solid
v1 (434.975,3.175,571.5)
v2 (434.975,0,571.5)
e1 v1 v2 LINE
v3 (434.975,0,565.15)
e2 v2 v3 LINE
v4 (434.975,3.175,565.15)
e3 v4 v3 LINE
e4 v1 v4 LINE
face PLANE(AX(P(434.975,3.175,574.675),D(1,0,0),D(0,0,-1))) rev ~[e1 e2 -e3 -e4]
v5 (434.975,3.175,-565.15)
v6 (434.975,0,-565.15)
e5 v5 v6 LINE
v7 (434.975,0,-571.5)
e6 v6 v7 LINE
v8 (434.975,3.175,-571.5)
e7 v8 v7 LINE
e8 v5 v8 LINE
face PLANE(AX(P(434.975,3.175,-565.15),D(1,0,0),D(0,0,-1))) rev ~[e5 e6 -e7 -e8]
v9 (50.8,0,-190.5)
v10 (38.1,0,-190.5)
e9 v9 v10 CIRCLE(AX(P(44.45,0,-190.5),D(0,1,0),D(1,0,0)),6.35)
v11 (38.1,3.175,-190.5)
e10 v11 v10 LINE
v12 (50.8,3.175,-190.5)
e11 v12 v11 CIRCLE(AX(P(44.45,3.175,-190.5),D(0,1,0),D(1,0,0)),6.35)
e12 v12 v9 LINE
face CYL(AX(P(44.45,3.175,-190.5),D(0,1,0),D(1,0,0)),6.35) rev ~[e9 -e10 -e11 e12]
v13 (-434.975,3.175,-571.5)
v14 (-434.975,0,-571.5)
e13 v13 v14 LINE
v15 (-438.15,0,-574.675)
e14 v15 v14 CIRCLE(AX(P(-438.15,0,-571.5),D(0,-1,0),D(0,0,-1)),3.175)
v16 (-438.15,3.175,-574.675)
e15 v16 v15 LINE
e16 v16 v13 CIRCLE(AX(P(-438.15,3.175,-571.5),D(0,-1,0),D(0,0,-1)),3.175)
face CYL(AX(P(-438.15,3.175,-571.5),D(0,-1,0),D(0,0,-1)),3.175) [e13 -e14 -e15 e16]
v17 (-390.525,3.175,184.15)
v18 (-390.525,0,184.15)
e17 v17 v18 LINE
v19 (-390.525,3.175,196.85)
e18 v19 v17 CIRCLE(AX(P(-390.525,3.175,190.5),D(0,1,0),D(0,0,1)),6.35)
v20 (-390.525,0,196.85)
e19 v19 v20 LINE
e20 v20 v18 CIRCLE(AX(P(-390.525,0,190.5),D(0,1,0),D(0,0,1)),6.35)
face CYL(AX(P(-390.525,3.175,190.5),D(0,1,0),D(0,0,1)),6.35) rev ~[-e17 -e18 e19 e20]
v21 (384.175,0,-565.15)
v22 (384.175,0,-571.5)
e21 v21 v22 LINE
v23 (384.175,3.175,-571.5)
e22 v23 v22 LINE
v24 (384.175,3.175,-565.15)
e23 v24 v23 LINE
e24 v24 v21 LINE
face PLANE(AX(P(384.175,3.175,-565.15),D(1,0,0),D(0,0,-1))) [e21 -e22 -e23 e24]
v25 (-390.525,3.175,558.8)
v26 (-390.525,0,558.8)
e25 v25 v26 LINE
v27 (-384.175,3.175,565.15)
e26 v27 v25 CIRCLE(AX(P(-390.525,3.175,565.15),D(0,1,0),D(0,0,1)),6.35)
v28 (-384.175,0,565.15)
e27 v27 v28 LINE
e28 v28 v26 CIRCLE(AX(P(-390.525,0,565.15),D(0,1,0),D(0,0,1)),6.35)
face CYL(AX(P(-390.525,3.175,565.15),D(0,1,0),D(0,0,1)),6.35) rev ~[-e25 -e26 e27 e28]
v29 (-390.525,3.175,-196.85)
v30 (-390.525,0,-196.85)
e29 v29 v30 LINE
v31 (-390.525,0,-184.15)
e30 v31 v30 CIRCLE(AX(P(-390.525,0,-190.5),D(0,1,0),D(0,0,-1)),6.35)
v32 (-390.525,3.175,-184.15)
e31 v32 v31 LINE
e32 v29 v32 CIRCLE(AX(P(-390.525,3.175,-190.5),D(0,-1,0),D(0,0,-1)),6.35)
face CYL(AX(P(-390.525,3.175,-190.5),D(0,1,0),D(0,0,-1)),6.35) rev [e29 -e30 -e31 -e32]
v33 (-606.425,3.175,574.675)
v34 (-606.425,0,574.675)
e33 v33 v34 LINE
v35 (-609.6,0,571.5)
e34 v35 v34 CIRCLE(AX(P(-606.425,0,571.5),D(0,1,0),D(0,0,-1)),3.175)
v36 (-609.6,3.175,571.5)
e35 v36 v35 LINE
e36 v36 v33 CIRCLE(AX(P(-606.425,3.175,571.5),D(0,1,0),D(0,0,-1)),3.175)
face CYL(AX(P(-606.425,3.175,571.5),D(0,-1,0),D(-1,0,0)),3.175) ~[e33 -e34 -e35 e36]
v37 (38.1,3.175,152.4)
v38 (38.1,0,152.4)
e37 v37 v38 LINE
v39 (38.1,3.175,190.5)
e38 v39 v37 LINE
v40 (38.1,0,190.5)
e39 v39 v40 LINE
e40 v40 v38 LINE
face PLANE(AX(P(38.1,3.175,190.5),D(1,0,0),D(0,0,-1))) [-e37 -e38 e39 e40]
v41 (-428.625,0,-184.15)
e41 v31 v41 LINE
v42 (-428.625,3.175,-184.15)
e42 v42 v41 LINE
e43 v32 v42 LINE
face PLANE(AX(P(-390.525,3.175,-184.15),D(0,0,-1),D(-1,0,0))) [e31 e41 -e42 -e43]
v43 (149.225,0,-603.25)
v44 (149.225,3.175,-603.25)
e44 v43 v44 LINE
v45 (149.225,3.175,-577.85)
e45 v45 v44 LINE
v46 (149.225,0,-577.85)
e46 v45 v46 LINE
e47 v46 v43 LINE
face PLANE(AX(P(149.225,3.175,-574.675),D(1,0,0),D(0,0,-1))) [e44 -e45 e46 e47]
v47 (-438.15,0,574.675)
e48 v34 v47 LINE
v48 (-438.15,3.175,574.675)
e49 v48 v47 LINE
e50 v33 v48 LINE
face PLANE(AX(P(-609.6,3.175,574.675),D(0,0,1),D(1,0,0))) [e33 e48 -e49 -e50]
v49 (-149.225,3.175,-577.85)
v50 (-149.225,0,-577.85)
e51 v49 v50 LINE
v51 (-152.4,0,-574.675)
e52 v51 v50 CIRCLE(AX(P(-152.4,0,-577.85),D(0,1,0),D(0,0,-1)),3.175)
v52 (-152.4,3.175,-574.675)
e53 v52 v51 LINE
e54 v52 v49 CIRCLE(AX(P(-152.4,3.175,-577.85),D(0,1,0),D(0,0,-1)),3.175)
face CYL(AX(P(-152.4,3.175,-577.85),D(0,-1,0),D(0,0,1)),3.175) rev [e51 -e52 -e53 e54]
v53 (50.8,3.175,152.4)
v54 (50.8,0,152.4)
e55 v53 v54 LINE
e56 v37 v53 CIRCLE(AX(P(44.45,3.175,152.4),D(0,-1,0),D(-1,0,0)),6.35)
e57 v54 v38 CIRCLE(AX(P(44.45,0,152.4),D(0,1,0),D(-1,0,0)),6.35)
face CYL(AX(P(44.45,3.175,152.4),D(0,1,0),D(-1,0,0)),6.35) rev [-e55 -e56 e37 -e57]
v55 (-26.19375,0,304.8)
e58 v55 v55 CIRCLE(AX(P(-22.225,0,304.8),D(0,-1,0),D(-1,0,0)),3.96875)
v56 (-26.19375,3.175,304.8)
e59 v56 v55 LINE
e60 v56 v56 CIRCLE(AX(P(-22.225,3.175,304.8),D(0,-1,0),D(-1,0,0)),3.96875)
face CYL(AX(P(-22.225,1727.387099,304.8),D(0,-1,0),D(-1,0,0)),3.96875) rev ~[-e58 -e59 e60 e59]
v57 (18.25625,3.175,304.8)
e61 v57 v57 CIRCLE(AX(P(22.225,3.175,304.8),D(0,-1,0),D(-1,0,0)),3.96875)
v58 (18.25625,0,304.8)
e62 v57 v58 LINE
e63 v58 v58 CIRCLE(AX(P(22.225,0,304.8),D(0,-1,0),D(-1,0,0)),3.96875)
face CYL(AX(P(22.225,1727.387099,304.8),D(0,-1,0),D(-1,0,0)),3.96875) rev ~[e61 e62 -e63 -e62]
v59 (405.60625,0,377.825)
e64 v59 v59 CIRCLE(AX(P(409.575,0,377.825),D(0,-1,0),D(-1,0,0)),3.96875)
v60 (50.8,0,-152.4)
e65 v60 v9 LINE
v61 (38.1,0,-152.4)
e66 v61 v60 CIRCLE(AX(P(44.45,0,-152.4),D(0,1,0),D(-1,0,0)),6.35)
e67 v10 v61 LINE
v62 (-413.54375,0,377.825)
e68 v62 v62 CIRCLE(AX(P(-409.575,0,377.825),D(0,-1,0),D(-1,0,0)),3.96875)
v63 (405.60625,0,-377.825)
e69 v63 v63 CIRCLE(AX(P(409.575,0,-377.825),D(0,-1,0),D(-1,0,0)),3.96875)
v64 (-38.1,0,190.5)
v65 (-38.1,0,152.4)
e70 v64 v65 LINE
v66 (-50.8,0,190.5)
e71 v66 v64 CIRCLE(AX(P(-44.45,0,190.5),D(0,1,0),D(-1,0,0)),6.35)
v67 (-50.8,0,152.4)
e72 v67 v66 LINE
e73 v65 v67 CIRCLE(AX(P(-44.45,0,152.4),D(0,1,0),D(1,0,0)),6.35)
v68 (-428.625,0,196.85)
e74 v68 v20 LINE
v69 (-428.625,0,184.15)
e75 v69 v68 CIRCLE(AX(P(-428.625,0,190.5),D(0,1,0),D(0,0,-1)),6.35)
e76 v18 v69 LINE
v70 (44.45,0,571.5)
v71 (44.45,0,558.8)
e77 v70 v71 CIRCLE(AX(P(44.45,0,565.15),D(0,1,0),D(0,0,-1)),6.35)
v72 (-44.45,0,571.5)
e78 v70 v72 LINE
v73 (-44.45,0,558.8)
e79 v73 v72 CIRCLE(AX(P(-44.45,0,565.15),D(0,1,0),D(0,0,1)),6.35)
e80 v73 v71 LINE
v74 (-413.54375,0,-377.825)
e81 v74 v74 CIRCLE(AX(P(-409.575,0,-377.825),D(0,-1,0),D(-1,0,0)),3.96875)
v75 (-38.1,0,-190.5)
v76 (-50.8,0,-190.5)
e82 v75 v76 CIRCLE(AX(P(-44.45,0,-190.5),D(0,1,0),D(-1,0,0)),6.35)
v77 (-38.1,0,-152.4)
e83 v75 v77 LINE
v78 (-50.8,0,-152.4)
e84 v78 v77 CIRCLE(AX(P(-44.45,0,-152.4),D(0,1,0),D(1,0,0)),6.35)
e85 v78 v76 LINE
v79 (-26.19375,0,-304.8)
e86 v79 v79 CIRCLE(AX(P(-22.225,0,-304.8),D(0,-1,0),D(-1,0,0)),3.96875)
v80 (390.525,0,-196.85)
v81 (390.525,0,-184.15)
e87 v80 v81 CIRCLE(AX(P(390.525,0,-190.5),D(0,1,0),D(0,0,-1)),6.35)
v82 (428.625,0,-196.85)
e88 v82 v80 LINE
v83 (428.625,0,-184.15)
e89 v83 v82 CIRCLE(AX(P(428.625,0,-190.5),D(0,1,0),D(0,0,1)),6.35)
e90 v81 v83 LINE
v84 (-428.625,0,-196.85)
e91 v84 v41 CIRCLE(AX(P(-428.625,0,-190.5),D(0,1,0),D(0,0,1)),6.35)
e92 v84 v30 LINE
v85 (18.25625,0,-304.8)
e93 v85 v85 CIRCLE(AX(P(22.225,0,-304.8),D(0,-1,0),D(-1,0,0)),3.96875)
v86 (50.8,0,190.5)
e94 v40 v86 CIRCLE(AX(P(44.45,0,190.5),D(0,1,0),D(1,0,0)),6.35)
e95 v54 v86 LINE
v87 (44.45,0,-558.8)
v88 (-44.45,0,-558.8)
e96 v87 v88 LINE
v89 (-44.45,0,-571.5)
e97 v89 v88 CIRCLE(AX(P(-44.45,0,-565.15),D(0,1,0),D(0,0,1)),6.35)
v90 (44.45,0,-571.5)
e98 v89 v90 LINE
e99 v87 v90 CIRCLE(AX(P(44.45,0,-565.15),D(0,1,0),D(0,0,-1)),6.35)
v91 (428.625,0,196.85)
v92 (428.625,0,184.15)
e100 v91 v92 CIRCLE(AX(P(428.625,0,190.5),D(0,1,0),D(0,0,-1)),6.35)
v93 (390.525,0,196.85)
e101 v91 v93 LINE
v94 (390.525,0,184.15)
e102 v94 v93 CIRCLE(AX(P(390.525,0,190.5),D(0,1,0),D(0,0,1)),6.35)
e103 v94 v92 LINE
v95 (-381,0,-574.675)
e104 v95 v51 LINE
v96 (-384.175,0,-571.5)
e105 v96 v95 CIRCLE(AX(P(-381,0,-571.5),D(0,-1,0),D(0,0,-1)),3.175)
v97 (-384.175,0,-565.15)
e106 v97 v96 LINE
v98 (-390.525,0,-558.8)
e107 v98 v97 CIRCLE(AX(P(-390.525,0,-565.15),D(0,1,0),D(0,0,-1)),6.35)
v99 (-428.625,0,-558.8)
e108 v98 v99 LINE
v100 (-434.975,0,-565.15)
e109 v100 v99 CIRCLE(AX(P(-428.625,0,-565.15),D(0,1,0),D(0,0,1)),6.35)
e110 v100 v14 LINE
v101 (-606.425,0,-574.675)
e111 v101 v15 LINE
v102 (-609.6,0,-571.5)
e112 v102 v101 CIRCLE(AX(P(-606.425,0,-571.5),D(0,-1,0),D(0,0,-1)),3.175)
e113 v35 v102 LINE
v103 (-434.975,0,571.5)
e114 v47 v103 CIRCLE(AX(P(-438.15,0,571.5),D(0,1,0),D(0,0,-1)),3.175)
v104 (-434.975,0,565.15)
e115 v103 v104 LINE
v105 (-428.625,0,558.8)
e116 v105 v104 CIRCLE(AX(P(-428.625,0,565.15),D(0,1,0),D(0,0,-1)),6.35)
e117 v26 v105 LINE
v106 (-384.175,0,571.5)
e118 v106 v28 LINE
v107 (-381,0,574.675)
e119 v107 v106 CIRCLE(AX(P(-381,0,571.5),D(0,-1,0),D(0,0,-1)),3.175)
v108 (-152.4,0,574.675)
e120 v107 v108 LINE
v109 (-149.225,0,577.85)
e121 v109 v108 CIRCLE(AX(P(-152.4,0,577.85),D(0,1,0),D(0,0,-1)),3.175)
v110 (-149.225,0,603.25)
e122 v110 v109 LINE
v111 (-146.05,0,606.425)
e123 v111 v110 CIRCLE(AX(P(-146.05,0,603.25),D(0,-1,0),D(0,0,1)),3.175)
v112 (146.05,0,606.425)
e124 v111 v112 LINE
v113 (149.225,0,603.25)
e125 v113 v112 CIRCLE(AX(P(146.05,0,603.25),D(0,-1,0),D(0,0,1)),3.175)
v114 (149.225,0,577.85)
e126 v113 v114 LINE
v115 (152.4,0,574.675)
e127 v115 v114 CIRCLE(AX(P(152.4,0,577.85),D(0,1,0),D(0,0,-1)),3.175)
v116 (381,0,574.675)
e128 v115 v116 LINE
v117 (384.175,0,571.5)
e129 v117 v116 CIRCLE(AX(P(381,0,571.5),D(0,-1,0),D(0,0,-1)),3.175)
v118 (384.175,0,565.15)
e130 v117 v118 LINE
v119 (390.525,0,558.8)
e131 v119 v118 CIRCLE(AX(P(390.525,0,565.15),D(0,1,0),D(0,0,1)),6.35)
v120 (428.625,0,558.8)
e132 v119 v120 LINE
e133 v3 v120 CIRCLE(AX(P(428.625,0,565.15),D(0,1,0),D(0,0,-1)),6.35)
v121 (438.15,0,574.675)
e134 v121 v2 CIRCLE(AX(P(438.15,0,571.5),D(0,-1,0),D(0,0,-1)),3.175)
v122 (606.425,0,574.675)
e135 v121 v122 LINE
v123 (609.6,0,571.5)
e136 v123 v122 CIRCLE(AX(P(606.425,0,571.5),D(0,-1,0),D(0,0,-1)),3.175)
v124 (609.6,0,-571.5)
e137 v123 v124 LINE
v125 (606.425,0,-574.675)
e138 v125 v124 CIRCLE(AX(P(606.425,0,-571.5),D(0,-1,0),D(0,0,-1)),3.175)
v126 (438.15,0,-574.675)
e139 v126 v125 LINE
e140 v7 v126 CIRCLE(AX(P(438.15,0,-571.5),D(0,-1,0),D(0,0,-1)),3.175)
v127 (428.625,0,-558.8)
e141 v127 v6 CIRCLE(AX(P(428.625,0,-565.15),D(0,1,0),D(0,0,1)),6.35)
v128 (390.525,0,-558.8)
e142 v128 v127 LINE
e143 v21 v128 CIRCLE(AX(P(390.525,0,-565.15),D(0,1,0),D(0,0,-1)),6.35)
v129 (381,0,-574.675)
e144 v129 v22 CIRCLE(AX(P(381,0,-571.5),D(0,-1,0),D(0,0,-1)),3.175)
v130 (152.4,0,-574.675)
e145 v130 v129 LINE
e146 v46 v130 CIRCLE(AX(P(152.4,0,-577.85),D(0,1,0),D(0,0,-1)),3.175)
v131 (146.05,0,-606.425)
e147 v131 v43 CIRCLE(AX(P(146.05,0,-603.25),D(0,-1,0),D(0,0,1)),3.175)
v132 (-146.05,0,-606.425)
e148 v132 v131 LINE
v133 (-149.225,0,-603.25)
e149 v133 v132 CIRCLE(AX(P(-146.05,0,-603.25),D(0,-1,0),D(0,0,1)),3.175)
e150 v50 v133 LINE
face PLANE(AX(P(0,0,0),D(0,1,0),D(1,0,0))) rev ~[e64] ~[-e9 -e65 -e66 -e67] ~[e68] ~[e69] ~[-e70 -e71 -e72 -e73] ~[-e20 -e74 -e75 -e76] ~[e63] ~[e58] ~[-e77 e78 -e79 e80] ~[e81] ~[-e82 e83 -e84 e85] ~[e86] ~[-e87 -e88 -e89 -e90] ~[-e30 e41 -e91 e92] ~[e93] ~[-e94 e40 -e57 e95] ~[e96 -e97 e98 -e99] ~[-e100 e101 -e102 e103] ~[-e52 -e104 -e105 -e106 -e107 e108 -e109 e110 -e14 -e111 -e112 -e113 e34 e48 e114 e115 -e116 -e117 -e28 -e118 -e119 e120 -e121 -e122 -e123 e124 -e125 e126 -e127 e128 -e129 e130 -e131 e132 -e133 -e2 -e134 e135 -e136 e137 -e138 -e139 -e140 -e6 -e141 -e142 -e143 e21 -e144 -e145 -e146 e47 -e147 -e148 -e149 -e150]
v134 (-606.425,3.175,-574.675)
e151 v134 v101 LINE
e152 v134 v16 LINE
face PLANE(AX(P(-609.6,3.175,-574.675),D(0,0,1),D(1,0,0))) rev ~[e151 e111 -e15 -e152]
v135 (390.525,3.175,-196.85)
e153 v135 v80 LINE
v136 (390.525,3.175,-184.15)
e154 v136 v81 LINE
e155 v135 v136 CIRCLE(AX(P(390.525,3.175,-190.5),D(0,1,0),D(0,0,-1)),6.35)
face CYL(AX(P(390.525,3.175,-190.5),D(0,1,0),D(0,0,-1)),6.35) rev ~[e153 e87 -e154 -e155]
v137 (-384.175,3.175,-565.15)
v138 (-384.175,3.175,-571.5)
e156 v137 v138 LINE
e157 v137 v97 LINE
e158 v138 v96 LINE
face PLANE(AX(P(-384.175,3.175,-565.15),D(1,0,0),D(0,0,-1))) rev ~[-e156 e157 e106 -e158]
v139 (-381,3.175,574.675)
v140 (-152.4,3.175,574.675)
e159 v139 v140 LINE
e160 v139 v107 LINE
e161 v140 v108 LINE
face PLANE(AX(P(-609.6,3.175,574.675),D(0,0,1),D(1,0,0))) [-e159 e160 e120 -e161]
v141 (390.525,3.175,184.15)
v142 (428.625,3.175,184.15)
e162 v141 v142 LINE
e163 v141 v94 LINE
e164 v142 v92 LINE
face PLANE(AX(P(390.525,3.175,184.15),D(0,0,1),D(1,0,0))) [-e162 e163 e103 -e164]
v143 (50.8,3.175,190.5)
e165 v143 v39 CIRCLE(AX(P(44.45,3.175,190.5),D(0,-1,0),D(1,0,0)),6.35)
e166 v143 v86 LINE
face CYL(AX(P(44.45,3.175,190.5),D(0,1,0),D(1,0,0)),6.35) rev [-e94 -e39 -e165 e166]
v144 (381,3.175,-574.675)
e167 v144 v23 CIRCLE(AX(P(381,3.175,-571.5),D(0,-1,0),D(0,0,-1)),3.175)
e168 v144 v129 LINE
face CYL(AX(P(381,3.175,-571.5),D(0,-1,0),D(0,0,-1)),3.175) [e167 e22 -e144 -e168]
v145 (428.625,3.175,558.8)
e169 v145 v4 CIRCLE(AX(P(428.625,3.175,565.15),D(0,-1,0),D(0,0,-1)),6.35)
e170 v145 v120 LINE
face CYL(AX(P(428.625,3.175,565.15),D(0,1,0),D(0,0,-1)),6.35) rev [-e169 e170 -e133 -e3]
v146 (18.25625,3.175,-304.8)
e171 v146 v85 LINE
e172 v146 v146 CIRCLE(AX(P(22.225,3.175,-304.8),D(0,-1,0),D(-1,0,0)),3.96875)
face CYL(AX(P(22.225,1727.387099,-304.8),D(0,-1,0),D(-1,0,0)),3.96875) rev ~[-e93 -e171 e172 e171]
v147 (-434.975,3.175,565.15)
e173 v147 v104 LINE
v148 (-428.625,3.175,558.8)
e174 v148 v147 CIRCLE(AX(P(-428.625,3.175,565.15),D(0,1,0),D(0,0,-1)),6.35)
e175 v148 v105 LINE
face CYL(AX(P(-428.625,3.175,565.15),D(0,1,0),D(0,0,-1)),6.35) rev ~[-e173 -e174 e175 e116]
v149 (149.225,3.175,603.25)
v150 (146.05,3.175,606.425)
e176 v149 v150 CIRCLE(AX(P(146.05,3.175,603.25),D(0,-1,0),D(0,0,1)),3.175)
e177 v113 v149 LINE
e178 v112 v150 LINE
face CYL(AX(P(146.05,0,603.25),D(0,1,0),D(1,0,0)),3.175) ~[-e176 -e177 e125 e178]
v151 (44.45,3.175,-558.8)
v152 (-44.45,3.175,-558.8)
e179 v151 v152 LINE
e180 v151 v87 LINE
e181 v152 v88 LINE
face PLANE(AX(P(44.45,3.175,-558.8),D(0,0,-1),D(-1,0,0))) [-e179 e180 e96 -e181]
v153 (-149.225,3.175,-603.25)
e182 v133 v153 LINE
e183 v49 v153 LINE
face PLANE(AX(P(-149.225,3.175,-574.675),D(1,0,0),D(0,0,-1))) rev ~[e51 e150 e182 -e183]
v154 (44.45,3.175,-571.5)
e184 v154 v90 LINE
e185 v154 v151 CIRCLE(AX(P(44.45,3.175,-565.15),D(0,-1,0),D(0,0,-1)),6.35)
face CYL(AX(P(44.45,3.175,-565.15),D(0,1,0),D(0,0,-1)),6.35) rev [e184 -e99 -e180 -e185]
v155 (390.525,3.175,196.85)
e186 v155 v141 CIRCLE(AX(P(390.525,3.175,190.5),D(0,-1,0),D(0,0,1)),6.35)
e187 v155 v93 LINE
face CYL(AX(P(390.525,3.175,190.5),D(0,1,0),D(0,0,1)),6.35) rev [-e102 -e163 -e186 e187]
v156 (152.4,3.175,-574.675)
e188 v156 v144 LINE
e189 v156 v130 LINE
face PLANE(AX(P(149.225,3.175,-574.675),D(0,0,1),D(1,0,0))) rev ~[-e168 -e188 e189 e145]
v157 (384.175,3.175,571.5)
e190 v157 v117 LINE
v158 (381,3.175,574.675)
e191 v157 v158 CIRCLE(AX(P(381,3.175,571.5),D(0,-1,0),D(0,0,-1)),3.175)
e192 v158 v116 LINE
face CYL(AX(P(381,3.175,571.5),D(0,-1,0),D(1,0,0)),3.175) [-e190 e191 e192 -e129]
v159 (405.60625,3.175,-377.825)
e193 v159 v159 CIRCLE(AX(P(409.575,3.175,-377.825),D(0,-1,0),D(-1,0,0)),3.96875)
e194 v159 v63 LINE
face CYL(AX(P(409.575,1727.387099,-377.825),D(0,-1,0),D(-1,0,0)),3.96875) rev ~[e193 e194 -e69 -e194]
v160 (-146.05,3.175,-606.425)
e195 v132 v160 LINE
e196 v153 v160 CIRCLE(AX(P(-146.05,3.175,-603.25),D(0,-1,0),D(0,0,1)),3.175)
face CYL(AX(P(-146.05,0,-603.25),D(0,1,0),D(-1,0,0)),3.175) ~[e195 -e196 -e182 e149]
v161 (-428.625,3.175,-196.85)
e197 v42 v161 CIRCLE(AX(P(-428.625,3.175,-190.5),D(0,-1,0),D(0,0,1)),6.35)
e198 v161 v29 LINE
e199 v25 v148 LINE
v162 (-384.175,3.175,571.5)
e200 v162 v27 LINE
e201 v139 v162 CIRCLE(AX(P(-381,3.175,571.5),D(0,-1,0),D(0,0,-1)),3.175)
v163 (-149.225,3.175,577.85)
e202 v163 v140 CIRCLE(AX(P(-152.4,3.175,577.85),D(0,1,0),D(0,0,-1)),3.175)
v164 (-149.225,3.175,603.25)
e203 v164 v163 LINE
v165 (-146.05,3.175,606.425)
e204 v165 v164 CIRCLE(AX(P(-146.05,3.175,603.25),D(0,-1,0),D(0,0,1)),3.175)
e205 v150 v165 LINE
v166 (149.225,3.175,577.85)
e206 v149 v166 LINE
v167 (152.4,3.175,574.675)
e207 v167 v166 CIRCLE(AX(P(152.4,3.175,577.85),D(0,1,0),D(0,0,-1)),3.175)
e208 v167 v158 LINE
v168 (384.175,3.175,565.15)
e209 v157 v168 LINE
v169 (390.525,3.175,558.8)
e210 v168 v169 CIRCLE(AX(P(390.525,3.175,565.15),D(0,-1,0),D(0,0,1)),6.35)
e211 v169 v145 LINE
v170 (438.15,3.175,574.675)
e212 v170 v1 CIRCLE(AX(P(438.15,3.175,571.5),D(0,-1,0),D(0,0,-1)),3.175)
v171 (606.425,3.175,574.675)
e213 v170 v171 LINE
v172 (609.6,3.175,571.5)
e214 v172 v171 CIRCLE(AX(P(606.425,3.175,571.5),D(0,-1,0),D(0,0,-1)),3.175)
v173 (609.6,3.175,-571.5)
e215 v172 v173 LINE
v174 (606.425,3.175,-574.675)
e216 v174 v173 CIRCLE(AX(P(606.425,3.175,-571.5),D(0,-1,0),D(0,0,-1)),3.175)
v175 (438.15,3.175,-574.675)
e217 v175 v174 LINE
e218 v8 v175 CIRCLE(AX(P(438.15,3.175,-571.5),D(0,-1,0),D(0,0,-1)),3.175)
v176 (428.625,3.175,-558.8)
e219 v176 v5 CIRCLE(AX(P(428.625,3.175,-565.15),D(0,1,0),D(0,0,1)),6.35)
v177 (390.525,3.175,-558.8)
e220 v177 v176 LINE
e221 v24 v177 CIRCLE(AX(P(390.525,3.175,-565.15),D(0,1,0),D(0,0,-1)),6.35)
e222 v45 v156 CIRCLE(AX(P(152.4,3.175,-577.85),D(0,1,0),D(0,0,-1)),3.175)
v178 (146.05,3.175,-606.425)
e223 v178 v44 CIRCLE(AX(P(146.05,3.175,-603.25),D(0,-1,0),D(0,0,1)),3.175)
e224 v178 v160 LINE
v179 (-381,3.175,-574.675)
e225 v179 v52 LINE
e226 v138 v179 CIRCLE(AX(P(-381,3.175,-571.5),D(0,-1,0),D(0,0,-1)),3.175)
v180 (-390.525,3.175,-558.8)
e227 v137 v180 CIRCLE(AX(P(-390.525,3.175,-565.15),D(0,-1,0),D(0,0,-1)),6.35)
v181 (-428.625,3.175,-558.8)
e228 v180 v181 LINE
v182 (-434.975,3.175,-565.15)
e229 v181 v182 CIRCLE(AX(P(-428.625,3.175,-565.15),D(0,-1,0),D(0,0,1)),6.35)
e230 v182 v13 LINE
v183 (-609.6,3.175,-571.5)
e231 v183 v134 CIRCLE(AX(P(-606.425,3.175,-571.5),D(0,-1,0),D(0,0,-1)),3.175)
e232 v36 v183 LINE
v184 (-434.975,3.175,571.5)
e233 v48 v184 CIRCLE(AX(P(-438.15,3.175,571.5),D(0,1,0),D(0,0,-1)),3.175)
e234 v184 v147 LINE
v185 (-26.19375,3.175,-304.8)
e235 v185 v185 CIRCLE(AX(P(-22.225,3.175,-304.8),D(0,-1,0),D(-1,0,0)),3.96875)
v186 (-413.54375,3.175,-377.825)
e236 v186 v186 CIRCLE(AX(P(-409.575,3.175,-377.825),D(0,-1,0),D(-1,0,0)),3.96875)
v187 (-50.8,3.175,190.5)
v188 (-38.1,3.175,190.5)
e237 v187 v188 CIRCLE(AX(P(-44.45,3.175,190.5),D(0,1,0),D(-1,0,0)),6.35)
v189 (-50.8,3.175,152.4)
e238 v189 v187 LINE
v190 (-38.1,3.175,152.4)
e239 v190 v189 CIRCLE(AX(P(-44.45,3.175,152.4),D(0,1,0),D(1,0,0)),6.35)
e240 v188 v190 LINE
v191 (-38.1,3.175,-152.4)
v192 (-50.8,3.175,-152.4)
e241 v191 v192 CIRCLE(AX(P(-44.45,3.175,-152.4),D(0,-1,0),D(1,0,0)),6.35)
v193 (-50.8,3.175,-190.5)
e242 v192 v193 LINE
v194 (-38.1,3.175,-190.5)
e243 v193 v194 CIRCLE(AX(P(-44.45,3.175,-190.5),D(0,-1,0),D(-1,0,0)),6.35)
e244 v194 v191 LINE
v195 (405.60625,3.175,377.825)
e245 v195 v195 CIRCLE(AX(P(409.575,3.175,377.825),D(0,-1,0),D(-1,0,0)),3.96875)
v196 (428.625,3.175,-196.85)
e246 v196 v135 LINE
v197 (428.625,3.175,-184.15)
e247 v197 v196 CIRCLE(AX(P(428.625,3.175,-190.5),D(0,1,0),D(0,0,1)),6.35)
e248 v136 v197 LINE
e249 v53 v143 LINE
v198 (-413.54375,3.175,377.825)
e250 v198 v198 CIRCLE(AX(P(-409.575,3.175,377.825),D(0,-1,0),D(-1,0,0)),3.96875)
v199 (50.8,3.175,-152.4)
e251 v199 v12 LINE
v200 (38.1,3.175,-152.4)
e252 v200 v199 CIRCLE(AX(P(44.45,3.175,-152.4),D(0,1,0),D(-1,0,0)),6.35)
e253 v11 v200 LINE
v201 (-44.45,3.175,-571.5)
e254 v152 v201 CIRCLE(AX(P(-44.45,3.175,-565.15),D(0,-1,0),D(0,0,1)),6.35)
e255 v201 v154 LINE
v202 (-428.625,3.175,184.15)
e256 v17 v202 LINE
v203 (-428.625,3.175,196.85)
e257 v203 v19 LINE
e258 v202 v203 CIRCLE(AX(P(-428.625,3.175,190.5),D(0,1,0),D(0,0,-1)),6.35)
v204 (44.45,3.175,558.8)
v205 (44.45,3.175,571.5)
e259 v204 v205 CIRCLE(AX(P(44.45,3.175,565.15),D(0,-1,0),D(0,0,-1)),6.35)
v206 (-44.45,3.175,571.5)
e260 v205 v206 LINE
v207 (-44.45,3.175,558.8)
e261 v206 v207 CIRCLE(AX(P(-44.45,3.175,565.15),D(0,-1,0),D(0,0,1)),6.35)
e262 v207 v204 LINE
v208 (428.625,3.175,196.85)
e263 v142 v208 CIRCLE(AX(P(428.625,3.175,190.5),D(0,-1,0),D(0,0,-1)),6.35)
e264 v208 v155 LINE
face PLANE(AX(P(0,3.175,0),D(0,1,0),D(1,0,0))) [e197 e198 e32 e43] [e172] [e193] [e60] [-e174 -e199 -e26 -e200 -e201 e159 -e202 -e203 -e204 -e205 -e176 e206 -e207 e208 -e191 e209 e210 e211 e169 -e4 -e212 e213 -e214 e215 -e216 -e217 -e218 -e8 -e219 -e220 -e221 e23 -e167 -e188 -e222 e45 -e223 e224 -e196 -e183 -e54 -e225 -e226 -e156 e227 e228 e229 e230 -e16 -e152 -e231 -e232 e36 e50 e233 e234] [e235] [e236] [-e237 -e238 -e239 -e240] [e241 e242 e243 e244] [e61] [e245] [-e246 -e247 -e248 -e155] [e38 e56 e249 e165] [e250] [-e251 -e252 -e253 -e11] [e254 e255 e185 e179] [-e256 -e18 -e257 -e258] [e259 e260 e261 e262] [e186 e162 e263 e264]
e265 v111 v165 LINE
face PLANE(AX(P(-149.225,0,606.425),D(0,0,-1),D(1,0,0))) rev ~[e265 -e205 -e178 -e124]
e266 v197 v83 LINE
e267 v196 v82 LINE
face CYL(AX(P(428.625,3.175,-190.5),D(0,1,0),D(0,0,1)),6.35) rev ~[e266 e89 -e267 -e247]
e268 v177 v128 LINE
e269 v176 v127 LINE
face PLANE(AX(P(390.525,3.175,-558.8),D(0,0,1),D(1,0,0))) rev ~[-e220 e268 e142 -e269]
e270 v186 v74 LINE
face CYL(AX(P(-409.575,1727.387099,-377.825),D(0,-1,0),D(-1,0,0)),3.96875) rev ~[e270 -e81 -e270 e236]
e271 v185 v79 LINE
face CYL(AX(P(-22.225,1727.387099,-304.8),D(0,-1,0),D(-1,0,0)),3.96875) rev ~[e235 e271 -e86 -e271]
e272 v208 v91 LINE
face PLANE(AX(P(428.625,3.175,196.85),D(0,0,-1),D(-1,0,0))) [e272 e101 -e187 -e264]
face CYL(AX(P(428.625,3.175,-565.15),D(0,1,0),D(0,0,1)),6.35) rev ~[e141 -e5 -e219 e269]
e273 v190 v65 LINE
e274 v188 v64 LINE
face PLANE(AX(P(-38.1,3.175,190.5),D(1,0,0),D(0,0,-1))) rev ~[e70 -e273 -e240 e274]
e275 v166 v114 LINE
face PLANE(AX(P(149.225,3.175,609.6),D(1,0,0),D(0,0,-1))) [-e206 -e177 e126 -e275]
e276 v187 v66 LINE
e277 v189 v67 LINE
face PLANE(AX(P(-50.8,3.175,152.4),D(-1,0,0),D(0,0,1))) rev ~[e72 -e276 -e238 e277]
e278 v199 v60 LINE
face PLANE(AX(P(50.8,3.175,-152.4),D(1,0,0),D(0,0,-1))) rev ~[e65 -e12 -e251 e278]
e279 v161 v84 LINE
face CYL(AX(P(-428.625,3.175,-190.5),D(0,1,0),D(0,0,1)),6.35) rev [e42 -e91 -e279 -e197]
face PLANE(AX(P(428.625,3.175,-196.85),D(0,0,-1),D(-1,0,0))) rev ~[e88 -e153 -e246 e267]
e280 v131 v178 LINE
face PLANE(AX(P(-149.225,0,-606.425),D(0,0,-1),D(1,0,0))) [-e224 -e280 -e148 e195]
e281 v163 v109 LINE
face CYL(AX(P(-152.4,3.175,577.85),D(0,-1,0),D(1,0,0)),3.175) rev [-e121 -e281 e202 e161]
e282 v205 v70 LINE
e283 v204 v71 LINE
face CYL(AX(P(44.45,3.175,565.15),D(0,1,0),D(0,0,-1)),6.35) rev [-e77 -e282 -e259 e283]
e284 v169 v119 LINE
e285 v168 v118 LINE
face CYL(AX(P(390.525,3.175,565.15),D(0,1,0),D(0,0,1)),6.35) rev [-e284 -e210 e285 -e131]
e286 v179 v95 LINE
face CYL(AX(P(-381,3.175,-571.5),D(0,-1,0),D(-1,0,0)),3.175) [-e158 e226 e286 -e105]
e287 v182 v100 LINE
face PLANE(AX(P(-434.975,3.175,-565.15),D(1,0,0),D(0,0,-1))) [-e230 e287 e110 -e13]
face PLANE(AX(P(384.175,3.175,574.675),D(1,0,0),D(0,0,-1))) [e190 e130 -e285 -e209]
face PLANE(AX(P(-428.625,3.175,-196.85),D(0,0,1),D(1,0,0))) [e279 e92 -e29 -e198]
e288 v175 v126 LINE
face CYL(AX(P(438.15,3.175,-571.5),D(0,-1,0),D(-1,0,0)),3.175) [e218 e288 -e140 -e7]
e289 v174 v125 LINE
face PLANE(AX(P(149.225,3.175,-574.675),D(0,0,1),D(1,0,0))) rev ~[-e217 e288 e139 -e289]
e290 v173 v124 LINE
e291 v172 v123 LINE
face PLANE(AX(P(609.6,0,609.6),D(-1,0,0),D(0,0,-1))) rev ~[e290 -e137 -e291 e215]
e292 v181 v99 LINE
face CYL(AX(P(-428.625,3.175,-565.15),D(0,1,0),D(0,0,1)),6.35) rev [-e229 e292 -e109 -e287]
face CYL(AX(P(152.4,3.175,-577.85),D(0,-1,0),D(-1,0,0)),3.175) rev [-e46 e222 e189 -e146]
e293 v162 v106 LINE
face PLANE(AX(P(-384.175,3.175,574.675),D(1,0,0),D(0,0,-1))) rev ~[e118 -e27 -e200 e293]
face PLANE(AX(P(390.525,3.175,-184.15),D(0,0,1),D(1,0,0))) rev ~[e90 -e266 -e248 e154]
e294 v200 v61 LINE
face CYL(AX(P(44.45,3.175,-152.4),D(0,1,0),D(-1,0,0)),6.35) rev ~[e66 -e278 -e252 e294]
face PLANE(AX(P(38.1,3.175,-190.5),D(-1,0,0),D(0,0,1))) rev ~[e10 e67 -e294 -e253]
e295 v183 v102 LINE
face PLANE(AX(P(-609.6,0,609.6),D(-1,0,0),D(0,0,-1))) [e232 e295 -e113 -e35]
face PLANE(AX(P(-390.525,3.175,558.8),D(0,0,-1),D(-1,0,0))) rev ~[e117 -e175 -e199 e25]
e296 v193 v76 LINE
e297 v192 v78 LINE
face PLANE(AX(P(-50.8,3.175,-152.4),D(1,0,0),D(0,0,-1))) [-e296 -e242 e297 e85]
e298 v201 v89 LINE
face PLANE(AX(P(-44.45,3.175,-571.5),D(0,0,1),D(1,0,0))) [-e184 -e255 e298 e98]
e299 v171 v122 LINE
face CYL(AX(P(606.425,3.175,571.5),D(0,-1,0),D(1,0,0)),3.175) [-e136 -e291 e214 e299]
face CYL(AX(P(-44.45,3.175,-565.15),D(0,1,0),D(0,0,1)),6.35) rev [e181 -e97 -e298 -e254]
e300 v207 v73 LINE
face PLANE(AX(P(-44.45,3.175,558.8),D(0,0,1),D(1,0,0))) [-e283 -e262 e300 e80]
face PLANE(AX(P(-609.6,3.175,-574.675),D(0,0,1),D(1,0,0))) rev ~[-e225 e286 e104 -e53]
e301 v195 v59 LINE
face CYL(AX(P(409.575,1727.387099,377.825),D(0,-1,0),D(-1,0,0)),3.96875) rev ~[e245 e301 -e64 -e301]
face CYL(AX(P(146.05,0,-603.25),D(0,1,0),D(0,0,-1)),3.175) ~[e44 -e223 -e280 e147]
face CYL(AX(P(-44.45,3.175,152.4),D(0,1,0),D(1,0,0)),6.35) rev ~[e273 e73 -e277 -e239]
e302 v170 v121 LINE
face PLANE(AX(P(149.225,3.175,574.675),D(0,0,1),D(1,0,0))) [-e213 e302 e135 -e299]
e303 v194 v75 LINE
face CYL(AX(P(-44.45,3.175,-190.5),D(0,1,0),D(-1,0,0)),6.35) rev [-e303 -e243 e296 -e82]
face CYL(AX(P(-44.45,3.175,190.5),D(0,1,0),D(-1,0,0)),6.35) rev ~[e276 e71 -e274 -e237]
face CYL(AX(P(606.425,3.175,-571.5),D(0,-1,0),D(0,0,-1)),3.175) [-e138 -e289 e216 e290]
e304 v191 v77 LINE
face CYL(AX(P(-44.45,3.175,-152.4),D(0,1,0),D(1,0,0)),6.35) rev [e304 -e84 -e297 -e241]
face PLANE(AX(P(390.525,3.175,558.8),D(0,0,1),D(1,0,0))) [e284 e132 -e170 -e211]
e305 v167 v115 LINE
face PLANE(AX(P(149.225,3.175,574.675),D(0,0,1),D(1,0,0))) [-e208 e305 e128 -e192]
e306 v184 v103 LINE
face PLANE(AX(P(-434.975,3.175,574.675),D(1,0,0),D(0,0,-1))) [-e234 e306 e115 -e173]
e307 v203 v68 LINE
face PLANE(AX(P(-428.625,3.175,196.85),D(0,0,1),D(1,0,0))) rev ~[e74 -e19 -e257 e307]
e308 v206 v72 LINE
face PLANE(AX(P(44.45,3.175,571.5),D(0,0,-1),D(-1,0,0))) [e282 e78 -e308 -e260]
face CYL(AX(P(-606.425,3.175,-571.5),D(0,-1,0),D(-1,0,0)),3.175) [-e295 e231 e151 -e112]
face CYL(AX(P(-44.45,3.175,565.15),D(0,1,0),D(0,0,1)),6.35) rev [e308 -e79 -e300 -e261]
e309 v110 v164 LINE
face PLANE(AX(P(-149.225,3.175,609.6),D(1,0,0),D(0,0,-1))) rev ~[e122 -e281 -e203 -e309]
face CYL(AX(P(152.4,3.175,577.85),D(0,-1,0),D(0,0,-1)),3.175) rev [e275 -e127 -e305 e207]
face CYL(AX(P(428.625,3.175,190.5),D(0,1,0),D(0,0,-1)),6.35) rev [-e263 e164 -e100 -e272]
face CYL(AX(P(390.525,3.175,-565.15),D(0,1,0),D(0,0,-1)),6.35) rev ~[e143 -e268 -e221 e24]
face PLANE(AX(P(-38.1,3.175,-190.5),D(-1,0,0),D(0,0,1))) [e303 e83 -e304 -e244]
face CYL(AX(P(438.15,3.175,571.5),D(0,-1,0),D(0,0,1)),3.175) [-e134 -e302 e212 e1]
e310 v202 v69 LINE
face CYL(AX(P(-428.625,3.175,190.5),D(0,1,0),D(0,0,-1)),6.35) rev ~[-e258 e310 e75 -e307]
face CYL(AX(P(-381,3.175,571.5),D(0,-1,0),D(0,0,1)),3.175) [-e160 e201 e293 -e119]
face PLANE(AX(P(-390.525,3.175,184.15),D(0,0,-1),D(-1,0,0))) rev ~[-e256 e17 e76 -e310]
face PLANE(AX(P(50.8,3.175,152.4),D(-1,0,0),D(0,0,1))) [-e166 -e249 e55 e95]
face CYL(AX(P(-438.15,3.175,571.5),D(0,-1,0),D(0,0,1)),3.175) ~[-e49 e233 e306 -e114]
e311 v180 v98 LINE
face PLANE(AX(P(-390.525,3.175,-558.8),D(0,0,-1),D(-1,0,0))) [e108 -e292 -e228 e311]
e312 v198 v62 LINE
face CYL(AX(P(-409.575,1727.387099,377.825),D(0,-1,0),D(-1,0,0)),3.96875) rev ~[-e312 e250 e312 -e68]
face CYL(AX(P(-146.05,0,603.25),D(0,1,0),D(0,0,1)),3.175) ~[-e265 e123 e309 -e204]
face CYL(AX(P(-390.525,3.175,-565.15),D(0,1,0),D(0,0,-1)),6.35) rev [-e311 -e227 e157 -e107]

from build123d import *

# Parameters (mm, degrees)
SKETCH1_W                      = 1219.2
SKETCH1_H                      = 1219.2
BOSS_EXTRUDE1_DEPTH            = 3.175
F_5_16_0_3125_DIAMETER_HOLE1_D = 7.9375
SKETCH5_W                      = 460.375
SKETCH5_H                      = 34.925
CUT_EXTRUDE1_DEPTH             = 863.110434124
CUT_EXTRUDE2_DEPTH             = 863.110434124
SKETCH8_W                      = 50.8
SKETCH8_H                      = 9.525
CUT_EXTRUDE3_DEPTH             = 863.110434124
SKETCH9_W                      = 298.45
SKETCH9_H                      = 3.175
CUT_EXTRUDE4_DEPTH             = 863.110434124
FILLET1_R                      = 3.175


with BuildPart() as part:
    # Sketch1 → Boss-Extrude1 (new body)
    with BuildSketch(Plane(origin=(0, 0, 0), x_dir=(1, 0, 0), z_dir=(0, 1, 0))):
        Rectangle(SKETCH1_W, SKETCH1_H)
    extrude(amount=BOSS_EXTRUDE1_DEPTH)

    # 5/16 (0.3125) Diameter Hole1 (through all)
    with Locations(Plane(origin=(0, 3.175, 0), x_dir=(1, 0, 0), z_dir=(0, 1, 0))):
        with Locations((-409.575, 377.825), (-22.225, 304.8), (22.225, 304.8), (409.575, 377.825), (-22.225, -304.8), (-409.575, -377.825), (409.575, -377.825), (22.225, -304.8)):
            Hole(F_5_16_0_3125_DIAMETER_HOLE1_D / 2)

    # Sketch5 → Cut-Extrude1 (cut, through all)
    with BuildSketch(Plane(origin=(0, 3.175, 0), x_dir=(1, 0, 0), z_dir=(0, 1, 0))):
        with Locations((-379.4125, 592.1375)):
            Rectangle(SKETCH5_W, SKETCH5_H)
        with Locations((379.4125, 592.1375)):
            Rectangle(SKETCH5_W, SKETCH5_H)
        with Locations((379.4125, -592.1375)):
            Rectangle(SKETCH5_W, SKETCH5_H)
        with Locations((-379.4125, -592.1375)):
            Rectangle(SKETCH5_W, SKETCH5_H)
    extrude(amount=-CUT_EXTRUDE1_DEPTH, mode=Mode.SUBTRACT)

    # Sketch7 → Cut-Extrude2 (cut, through all)
    with BuildSketch(Plane(origin=(0, 3.175, 0), x_dir=(1, 0, 0), z_dir=(0, 1, 0))):
        with BuildLine():
            Line((-428.625, 571.5), (-390.525, 571.5))
            ThreePointArc((-390.525, 571.5), (-384.175, 565.15), (-390.525, 558.8))
            Line((-390.525, 558.8), (-428.625, 558.8))
            ThreePointArc((-428.625, 558.8), (-434.975, 565.15), (-428.625, 571.5))
        make_face()
        with BuildLine():
            Line((-428.625, 196.85), (-390.525, 196.85))
            ThreePointArc((-390.525, 196.85), (-384.175, 190.5), (-390.525, 184.15))
            Line((-390.525, 184.15), (-428.625, 184.15))
            ThreePointArc((-428.625, 184.15), (-434.975, 190.5), (-428.625, 196.85))
        make_face()
        with BuildLine():
            Line((-38.1, 190.5), (-38.1, 152.4))
            ThreePointArc((-38.1, 152.4), (-44.45, 146.05), (-50.8, 152.4))
            Line((-50.8, 152.4), (-50.8, 190.5))
            ThreePointArc((-50.8, 190.5), (-44.45, 196.85), (-38.1, 190.5))
        make_face()
        with BuildLine():
            Line((-428.625, -571.5), (-390.525, -571.5))
            ThreePointArc((-390.525, -571.5), (-384.175, -565.15), (-390.525, -558.8))
            Line((-390.525, -558.8), (-428.625, -558.8))
            ThreePointArc((-428.625, -558.8), (-434.975, -565.15), (-428.625, -571.5))
        make_face()
        with BuildLine():
            Line((-428.625, -196.85), (-390.525, -196.85))
            ThreePointArc((-390.525, -196.85), (-384.175, -190.5), (-390.525, -184.15))
            Line((-390.525, -184.15), (-428.625, -184.15))
            ThreePointArc((-428.625, -184.15), (-434.975, -190.5), (-428.625, -196.85))
        make_face()
        with BuildLine():
            Line((-38.1, -190.5), (-38.1, -152.4))
            ThreePointArc((-38.1, -152.4), (-44.45, -146.05), (-50.8, -152.4))
            Line((-50.8, -152.4), (-50.8, -190.5))
            ThreePointArc((-50.8, -190.5), (-44.45, -196.85), (-38.1, -190.5))
        make_face()
        with BuildLine():
            Line((428.625, 571.5), (390.525, 571.5))
            ThreePointArc((390.525, 571.5), (384.175, 565.15), (390.525, 558.8))
            Line((390.525, 558.8), (428.625, 558.8))
            ThreePointArc((428.625, 558.8), (434.975, 565.15), (428.625, 571.5))
        make_face()
        with BuildLine():
            Line((428.625, 196.85), (390.525, 196.85))
            ThreePointArc((390.525, 196.85), (384.175, 190.5), (390.525, 184.15))
            Line((390.525, 184.15), (428.625, 184.15))
            ThreePointArc((428.625, 184.15), (434.975, 190.5), (428.625, 196.85))
        make_face()
        with BuildLine():
            Line((-44.45, 571.5), (44.45, 571.5))
            ThreePointArc((44.45, 571.5), (50.8, 565.15), (44.45, 558.8))
            Line((44.45, 558.8), (-44.45, 558.8))
            ThreePointArc((-44.45, 558.8), (-50.8, 565.15), (-44.45, 571.5))
        make_face()
        with BuildLine():
            Line((38.1, 190.5), (38.1, 152.4))
            ThreePointArc((38.1, 152.4), (44.45, 146.05), (50.8, 152.4))
            Line((50.8, 152.4), (50.8, 190.5))
            ThreePointArc((50.8, 190.5), (44.45, 196.85), (38.1, 190.5))
        make_face()
        with BuildLine():
            Line((428.625, -571.5), (390.525, -571.5))
            ThreePointArc((390.525, -571.5), (384.175, -565.15), (390.525, -558.8))
            Line((390.525, -558.8), (428.625, -558.8))
            ThreePointArc((428.625, -558.8), (434.975, -565.15), (428.625, -571.5))
        make_face()
        with BuildLine():
            Line((428.625, -196.85), (390.525, -196.85))
            ThreePointArc((390.525, -196.85), (384.175, -190.5), (390.525, -184.15))
            Line((390.525, -184.15), (428.625, -184.15))
            ThreePointArc((428.625, -184.15), (434.975, -190.5), (428.625, -196.85))
        make_face()
        with BuildLine():
            Line((38.1, -190.5), (38.1, -152.4))
            ThreePointArc((38.1, -152.4), (44.45, -146.05), (50.8, -152.4))
            Line((50.8, -152.4), (50.8, -190.5))
            ThreePointArc((50.8, -190.5), (44.45, -196.85), (38.1, -190.5))
        make_face()
        with BuildLine():
            Line((-44.45, -558.8), (44.45, -558.8))
            ThreePointArc((44.45, -558.8), (50.8, -565.15), (44.45, -571.5))
            Line((44.45, -571.5), (-44.45, -571.5))
            ThreePointArc((-44.45, -571.5), (-50.8, -565.15), (-44.45, -558.8))
        make_face()
    extrude(amount=-CUT_EXTRUDE2_DEPTH, mode=Mode.SUBTRACT)

    # Sketch8 → Cut-Extrude3 (cut, through all)
    with BuildSketch(Plane(origin=(0, 3.175, 0), x_dir=(1, 0, 0), z_dir=(0, 1, 0))):
        with Locations((-409.575, -569.9125)):
            Rectangle(SKETCH8_W, SKETCH8_H)
        with Locations((409.575, -569.9125)):
            Rectangle(SKETCH8_W, SKETCH8_H)
        with Locations((409.575, 569.9125)):
            Rectangle(SKETCH8_W, SKETCH8_H)
        with Locations((-409.575, 569.9125)):
            Rectangle(SKETCH8_W, SKETCH8_H)
    extrude(amount=-CUT_EXTRUDE3_DEPTH, mode=Mode.SUBTRACT)

    # Sketch9 → Cut-Extrude4 (cut, through all)
    with BuildSketch(Plane.XZ):
        with Locations((0, 608.0125)):
            Rectangle(SKETCH9_W, SKETCH9_H)
        with Locations((0, -608.0125)):
            Rectangle(SKETCH9_W, SKETCH9_H)
    extrude(amount=-CUT_EXTRUDE4_DEPTH, mode=Mode.SUBTRACT)

    # Fillet1
    fillet1_edges = [part.edges().sort_by_distance(p)[0] for p in [
        (-434.975, 1.5875, -574.675),
        (-384.175, 1.5875, -574.675),
        (434.975, 1.5875, -574.675),
        (384.175, 1.5875, -574.675),
        (434.975, 1.5875, 574.675),
        (384.175, 1.5875, 574.675),
        (-434.975, 1.5875, 574.675),
        (-384.175, 1.5875, 574.675),
        (-149.225, 1.5875, 606.425),
        (149.225, 1.5875, 606.425),
        (-149.225, 1.5875, -606.425),
        (149.225, 1.5875, -606.425),
        (-609.6, 1.5875, 574.675),
        (-149.225, 1.5875, 574.675),
        (149.225, 1.5875, 574.675),
        (609.6, 1.5875, 574.675),
        (609.6, 1.5875, -574.675),
        (149.225, 1.5875, -574.675),
        (-149.225, 1.5875, -574.675),
        (-609.6, 1.5875, -574.675),
    ]]
    fillet(fillet1_edges, radius=FILLET1_R)


solid = part.part
